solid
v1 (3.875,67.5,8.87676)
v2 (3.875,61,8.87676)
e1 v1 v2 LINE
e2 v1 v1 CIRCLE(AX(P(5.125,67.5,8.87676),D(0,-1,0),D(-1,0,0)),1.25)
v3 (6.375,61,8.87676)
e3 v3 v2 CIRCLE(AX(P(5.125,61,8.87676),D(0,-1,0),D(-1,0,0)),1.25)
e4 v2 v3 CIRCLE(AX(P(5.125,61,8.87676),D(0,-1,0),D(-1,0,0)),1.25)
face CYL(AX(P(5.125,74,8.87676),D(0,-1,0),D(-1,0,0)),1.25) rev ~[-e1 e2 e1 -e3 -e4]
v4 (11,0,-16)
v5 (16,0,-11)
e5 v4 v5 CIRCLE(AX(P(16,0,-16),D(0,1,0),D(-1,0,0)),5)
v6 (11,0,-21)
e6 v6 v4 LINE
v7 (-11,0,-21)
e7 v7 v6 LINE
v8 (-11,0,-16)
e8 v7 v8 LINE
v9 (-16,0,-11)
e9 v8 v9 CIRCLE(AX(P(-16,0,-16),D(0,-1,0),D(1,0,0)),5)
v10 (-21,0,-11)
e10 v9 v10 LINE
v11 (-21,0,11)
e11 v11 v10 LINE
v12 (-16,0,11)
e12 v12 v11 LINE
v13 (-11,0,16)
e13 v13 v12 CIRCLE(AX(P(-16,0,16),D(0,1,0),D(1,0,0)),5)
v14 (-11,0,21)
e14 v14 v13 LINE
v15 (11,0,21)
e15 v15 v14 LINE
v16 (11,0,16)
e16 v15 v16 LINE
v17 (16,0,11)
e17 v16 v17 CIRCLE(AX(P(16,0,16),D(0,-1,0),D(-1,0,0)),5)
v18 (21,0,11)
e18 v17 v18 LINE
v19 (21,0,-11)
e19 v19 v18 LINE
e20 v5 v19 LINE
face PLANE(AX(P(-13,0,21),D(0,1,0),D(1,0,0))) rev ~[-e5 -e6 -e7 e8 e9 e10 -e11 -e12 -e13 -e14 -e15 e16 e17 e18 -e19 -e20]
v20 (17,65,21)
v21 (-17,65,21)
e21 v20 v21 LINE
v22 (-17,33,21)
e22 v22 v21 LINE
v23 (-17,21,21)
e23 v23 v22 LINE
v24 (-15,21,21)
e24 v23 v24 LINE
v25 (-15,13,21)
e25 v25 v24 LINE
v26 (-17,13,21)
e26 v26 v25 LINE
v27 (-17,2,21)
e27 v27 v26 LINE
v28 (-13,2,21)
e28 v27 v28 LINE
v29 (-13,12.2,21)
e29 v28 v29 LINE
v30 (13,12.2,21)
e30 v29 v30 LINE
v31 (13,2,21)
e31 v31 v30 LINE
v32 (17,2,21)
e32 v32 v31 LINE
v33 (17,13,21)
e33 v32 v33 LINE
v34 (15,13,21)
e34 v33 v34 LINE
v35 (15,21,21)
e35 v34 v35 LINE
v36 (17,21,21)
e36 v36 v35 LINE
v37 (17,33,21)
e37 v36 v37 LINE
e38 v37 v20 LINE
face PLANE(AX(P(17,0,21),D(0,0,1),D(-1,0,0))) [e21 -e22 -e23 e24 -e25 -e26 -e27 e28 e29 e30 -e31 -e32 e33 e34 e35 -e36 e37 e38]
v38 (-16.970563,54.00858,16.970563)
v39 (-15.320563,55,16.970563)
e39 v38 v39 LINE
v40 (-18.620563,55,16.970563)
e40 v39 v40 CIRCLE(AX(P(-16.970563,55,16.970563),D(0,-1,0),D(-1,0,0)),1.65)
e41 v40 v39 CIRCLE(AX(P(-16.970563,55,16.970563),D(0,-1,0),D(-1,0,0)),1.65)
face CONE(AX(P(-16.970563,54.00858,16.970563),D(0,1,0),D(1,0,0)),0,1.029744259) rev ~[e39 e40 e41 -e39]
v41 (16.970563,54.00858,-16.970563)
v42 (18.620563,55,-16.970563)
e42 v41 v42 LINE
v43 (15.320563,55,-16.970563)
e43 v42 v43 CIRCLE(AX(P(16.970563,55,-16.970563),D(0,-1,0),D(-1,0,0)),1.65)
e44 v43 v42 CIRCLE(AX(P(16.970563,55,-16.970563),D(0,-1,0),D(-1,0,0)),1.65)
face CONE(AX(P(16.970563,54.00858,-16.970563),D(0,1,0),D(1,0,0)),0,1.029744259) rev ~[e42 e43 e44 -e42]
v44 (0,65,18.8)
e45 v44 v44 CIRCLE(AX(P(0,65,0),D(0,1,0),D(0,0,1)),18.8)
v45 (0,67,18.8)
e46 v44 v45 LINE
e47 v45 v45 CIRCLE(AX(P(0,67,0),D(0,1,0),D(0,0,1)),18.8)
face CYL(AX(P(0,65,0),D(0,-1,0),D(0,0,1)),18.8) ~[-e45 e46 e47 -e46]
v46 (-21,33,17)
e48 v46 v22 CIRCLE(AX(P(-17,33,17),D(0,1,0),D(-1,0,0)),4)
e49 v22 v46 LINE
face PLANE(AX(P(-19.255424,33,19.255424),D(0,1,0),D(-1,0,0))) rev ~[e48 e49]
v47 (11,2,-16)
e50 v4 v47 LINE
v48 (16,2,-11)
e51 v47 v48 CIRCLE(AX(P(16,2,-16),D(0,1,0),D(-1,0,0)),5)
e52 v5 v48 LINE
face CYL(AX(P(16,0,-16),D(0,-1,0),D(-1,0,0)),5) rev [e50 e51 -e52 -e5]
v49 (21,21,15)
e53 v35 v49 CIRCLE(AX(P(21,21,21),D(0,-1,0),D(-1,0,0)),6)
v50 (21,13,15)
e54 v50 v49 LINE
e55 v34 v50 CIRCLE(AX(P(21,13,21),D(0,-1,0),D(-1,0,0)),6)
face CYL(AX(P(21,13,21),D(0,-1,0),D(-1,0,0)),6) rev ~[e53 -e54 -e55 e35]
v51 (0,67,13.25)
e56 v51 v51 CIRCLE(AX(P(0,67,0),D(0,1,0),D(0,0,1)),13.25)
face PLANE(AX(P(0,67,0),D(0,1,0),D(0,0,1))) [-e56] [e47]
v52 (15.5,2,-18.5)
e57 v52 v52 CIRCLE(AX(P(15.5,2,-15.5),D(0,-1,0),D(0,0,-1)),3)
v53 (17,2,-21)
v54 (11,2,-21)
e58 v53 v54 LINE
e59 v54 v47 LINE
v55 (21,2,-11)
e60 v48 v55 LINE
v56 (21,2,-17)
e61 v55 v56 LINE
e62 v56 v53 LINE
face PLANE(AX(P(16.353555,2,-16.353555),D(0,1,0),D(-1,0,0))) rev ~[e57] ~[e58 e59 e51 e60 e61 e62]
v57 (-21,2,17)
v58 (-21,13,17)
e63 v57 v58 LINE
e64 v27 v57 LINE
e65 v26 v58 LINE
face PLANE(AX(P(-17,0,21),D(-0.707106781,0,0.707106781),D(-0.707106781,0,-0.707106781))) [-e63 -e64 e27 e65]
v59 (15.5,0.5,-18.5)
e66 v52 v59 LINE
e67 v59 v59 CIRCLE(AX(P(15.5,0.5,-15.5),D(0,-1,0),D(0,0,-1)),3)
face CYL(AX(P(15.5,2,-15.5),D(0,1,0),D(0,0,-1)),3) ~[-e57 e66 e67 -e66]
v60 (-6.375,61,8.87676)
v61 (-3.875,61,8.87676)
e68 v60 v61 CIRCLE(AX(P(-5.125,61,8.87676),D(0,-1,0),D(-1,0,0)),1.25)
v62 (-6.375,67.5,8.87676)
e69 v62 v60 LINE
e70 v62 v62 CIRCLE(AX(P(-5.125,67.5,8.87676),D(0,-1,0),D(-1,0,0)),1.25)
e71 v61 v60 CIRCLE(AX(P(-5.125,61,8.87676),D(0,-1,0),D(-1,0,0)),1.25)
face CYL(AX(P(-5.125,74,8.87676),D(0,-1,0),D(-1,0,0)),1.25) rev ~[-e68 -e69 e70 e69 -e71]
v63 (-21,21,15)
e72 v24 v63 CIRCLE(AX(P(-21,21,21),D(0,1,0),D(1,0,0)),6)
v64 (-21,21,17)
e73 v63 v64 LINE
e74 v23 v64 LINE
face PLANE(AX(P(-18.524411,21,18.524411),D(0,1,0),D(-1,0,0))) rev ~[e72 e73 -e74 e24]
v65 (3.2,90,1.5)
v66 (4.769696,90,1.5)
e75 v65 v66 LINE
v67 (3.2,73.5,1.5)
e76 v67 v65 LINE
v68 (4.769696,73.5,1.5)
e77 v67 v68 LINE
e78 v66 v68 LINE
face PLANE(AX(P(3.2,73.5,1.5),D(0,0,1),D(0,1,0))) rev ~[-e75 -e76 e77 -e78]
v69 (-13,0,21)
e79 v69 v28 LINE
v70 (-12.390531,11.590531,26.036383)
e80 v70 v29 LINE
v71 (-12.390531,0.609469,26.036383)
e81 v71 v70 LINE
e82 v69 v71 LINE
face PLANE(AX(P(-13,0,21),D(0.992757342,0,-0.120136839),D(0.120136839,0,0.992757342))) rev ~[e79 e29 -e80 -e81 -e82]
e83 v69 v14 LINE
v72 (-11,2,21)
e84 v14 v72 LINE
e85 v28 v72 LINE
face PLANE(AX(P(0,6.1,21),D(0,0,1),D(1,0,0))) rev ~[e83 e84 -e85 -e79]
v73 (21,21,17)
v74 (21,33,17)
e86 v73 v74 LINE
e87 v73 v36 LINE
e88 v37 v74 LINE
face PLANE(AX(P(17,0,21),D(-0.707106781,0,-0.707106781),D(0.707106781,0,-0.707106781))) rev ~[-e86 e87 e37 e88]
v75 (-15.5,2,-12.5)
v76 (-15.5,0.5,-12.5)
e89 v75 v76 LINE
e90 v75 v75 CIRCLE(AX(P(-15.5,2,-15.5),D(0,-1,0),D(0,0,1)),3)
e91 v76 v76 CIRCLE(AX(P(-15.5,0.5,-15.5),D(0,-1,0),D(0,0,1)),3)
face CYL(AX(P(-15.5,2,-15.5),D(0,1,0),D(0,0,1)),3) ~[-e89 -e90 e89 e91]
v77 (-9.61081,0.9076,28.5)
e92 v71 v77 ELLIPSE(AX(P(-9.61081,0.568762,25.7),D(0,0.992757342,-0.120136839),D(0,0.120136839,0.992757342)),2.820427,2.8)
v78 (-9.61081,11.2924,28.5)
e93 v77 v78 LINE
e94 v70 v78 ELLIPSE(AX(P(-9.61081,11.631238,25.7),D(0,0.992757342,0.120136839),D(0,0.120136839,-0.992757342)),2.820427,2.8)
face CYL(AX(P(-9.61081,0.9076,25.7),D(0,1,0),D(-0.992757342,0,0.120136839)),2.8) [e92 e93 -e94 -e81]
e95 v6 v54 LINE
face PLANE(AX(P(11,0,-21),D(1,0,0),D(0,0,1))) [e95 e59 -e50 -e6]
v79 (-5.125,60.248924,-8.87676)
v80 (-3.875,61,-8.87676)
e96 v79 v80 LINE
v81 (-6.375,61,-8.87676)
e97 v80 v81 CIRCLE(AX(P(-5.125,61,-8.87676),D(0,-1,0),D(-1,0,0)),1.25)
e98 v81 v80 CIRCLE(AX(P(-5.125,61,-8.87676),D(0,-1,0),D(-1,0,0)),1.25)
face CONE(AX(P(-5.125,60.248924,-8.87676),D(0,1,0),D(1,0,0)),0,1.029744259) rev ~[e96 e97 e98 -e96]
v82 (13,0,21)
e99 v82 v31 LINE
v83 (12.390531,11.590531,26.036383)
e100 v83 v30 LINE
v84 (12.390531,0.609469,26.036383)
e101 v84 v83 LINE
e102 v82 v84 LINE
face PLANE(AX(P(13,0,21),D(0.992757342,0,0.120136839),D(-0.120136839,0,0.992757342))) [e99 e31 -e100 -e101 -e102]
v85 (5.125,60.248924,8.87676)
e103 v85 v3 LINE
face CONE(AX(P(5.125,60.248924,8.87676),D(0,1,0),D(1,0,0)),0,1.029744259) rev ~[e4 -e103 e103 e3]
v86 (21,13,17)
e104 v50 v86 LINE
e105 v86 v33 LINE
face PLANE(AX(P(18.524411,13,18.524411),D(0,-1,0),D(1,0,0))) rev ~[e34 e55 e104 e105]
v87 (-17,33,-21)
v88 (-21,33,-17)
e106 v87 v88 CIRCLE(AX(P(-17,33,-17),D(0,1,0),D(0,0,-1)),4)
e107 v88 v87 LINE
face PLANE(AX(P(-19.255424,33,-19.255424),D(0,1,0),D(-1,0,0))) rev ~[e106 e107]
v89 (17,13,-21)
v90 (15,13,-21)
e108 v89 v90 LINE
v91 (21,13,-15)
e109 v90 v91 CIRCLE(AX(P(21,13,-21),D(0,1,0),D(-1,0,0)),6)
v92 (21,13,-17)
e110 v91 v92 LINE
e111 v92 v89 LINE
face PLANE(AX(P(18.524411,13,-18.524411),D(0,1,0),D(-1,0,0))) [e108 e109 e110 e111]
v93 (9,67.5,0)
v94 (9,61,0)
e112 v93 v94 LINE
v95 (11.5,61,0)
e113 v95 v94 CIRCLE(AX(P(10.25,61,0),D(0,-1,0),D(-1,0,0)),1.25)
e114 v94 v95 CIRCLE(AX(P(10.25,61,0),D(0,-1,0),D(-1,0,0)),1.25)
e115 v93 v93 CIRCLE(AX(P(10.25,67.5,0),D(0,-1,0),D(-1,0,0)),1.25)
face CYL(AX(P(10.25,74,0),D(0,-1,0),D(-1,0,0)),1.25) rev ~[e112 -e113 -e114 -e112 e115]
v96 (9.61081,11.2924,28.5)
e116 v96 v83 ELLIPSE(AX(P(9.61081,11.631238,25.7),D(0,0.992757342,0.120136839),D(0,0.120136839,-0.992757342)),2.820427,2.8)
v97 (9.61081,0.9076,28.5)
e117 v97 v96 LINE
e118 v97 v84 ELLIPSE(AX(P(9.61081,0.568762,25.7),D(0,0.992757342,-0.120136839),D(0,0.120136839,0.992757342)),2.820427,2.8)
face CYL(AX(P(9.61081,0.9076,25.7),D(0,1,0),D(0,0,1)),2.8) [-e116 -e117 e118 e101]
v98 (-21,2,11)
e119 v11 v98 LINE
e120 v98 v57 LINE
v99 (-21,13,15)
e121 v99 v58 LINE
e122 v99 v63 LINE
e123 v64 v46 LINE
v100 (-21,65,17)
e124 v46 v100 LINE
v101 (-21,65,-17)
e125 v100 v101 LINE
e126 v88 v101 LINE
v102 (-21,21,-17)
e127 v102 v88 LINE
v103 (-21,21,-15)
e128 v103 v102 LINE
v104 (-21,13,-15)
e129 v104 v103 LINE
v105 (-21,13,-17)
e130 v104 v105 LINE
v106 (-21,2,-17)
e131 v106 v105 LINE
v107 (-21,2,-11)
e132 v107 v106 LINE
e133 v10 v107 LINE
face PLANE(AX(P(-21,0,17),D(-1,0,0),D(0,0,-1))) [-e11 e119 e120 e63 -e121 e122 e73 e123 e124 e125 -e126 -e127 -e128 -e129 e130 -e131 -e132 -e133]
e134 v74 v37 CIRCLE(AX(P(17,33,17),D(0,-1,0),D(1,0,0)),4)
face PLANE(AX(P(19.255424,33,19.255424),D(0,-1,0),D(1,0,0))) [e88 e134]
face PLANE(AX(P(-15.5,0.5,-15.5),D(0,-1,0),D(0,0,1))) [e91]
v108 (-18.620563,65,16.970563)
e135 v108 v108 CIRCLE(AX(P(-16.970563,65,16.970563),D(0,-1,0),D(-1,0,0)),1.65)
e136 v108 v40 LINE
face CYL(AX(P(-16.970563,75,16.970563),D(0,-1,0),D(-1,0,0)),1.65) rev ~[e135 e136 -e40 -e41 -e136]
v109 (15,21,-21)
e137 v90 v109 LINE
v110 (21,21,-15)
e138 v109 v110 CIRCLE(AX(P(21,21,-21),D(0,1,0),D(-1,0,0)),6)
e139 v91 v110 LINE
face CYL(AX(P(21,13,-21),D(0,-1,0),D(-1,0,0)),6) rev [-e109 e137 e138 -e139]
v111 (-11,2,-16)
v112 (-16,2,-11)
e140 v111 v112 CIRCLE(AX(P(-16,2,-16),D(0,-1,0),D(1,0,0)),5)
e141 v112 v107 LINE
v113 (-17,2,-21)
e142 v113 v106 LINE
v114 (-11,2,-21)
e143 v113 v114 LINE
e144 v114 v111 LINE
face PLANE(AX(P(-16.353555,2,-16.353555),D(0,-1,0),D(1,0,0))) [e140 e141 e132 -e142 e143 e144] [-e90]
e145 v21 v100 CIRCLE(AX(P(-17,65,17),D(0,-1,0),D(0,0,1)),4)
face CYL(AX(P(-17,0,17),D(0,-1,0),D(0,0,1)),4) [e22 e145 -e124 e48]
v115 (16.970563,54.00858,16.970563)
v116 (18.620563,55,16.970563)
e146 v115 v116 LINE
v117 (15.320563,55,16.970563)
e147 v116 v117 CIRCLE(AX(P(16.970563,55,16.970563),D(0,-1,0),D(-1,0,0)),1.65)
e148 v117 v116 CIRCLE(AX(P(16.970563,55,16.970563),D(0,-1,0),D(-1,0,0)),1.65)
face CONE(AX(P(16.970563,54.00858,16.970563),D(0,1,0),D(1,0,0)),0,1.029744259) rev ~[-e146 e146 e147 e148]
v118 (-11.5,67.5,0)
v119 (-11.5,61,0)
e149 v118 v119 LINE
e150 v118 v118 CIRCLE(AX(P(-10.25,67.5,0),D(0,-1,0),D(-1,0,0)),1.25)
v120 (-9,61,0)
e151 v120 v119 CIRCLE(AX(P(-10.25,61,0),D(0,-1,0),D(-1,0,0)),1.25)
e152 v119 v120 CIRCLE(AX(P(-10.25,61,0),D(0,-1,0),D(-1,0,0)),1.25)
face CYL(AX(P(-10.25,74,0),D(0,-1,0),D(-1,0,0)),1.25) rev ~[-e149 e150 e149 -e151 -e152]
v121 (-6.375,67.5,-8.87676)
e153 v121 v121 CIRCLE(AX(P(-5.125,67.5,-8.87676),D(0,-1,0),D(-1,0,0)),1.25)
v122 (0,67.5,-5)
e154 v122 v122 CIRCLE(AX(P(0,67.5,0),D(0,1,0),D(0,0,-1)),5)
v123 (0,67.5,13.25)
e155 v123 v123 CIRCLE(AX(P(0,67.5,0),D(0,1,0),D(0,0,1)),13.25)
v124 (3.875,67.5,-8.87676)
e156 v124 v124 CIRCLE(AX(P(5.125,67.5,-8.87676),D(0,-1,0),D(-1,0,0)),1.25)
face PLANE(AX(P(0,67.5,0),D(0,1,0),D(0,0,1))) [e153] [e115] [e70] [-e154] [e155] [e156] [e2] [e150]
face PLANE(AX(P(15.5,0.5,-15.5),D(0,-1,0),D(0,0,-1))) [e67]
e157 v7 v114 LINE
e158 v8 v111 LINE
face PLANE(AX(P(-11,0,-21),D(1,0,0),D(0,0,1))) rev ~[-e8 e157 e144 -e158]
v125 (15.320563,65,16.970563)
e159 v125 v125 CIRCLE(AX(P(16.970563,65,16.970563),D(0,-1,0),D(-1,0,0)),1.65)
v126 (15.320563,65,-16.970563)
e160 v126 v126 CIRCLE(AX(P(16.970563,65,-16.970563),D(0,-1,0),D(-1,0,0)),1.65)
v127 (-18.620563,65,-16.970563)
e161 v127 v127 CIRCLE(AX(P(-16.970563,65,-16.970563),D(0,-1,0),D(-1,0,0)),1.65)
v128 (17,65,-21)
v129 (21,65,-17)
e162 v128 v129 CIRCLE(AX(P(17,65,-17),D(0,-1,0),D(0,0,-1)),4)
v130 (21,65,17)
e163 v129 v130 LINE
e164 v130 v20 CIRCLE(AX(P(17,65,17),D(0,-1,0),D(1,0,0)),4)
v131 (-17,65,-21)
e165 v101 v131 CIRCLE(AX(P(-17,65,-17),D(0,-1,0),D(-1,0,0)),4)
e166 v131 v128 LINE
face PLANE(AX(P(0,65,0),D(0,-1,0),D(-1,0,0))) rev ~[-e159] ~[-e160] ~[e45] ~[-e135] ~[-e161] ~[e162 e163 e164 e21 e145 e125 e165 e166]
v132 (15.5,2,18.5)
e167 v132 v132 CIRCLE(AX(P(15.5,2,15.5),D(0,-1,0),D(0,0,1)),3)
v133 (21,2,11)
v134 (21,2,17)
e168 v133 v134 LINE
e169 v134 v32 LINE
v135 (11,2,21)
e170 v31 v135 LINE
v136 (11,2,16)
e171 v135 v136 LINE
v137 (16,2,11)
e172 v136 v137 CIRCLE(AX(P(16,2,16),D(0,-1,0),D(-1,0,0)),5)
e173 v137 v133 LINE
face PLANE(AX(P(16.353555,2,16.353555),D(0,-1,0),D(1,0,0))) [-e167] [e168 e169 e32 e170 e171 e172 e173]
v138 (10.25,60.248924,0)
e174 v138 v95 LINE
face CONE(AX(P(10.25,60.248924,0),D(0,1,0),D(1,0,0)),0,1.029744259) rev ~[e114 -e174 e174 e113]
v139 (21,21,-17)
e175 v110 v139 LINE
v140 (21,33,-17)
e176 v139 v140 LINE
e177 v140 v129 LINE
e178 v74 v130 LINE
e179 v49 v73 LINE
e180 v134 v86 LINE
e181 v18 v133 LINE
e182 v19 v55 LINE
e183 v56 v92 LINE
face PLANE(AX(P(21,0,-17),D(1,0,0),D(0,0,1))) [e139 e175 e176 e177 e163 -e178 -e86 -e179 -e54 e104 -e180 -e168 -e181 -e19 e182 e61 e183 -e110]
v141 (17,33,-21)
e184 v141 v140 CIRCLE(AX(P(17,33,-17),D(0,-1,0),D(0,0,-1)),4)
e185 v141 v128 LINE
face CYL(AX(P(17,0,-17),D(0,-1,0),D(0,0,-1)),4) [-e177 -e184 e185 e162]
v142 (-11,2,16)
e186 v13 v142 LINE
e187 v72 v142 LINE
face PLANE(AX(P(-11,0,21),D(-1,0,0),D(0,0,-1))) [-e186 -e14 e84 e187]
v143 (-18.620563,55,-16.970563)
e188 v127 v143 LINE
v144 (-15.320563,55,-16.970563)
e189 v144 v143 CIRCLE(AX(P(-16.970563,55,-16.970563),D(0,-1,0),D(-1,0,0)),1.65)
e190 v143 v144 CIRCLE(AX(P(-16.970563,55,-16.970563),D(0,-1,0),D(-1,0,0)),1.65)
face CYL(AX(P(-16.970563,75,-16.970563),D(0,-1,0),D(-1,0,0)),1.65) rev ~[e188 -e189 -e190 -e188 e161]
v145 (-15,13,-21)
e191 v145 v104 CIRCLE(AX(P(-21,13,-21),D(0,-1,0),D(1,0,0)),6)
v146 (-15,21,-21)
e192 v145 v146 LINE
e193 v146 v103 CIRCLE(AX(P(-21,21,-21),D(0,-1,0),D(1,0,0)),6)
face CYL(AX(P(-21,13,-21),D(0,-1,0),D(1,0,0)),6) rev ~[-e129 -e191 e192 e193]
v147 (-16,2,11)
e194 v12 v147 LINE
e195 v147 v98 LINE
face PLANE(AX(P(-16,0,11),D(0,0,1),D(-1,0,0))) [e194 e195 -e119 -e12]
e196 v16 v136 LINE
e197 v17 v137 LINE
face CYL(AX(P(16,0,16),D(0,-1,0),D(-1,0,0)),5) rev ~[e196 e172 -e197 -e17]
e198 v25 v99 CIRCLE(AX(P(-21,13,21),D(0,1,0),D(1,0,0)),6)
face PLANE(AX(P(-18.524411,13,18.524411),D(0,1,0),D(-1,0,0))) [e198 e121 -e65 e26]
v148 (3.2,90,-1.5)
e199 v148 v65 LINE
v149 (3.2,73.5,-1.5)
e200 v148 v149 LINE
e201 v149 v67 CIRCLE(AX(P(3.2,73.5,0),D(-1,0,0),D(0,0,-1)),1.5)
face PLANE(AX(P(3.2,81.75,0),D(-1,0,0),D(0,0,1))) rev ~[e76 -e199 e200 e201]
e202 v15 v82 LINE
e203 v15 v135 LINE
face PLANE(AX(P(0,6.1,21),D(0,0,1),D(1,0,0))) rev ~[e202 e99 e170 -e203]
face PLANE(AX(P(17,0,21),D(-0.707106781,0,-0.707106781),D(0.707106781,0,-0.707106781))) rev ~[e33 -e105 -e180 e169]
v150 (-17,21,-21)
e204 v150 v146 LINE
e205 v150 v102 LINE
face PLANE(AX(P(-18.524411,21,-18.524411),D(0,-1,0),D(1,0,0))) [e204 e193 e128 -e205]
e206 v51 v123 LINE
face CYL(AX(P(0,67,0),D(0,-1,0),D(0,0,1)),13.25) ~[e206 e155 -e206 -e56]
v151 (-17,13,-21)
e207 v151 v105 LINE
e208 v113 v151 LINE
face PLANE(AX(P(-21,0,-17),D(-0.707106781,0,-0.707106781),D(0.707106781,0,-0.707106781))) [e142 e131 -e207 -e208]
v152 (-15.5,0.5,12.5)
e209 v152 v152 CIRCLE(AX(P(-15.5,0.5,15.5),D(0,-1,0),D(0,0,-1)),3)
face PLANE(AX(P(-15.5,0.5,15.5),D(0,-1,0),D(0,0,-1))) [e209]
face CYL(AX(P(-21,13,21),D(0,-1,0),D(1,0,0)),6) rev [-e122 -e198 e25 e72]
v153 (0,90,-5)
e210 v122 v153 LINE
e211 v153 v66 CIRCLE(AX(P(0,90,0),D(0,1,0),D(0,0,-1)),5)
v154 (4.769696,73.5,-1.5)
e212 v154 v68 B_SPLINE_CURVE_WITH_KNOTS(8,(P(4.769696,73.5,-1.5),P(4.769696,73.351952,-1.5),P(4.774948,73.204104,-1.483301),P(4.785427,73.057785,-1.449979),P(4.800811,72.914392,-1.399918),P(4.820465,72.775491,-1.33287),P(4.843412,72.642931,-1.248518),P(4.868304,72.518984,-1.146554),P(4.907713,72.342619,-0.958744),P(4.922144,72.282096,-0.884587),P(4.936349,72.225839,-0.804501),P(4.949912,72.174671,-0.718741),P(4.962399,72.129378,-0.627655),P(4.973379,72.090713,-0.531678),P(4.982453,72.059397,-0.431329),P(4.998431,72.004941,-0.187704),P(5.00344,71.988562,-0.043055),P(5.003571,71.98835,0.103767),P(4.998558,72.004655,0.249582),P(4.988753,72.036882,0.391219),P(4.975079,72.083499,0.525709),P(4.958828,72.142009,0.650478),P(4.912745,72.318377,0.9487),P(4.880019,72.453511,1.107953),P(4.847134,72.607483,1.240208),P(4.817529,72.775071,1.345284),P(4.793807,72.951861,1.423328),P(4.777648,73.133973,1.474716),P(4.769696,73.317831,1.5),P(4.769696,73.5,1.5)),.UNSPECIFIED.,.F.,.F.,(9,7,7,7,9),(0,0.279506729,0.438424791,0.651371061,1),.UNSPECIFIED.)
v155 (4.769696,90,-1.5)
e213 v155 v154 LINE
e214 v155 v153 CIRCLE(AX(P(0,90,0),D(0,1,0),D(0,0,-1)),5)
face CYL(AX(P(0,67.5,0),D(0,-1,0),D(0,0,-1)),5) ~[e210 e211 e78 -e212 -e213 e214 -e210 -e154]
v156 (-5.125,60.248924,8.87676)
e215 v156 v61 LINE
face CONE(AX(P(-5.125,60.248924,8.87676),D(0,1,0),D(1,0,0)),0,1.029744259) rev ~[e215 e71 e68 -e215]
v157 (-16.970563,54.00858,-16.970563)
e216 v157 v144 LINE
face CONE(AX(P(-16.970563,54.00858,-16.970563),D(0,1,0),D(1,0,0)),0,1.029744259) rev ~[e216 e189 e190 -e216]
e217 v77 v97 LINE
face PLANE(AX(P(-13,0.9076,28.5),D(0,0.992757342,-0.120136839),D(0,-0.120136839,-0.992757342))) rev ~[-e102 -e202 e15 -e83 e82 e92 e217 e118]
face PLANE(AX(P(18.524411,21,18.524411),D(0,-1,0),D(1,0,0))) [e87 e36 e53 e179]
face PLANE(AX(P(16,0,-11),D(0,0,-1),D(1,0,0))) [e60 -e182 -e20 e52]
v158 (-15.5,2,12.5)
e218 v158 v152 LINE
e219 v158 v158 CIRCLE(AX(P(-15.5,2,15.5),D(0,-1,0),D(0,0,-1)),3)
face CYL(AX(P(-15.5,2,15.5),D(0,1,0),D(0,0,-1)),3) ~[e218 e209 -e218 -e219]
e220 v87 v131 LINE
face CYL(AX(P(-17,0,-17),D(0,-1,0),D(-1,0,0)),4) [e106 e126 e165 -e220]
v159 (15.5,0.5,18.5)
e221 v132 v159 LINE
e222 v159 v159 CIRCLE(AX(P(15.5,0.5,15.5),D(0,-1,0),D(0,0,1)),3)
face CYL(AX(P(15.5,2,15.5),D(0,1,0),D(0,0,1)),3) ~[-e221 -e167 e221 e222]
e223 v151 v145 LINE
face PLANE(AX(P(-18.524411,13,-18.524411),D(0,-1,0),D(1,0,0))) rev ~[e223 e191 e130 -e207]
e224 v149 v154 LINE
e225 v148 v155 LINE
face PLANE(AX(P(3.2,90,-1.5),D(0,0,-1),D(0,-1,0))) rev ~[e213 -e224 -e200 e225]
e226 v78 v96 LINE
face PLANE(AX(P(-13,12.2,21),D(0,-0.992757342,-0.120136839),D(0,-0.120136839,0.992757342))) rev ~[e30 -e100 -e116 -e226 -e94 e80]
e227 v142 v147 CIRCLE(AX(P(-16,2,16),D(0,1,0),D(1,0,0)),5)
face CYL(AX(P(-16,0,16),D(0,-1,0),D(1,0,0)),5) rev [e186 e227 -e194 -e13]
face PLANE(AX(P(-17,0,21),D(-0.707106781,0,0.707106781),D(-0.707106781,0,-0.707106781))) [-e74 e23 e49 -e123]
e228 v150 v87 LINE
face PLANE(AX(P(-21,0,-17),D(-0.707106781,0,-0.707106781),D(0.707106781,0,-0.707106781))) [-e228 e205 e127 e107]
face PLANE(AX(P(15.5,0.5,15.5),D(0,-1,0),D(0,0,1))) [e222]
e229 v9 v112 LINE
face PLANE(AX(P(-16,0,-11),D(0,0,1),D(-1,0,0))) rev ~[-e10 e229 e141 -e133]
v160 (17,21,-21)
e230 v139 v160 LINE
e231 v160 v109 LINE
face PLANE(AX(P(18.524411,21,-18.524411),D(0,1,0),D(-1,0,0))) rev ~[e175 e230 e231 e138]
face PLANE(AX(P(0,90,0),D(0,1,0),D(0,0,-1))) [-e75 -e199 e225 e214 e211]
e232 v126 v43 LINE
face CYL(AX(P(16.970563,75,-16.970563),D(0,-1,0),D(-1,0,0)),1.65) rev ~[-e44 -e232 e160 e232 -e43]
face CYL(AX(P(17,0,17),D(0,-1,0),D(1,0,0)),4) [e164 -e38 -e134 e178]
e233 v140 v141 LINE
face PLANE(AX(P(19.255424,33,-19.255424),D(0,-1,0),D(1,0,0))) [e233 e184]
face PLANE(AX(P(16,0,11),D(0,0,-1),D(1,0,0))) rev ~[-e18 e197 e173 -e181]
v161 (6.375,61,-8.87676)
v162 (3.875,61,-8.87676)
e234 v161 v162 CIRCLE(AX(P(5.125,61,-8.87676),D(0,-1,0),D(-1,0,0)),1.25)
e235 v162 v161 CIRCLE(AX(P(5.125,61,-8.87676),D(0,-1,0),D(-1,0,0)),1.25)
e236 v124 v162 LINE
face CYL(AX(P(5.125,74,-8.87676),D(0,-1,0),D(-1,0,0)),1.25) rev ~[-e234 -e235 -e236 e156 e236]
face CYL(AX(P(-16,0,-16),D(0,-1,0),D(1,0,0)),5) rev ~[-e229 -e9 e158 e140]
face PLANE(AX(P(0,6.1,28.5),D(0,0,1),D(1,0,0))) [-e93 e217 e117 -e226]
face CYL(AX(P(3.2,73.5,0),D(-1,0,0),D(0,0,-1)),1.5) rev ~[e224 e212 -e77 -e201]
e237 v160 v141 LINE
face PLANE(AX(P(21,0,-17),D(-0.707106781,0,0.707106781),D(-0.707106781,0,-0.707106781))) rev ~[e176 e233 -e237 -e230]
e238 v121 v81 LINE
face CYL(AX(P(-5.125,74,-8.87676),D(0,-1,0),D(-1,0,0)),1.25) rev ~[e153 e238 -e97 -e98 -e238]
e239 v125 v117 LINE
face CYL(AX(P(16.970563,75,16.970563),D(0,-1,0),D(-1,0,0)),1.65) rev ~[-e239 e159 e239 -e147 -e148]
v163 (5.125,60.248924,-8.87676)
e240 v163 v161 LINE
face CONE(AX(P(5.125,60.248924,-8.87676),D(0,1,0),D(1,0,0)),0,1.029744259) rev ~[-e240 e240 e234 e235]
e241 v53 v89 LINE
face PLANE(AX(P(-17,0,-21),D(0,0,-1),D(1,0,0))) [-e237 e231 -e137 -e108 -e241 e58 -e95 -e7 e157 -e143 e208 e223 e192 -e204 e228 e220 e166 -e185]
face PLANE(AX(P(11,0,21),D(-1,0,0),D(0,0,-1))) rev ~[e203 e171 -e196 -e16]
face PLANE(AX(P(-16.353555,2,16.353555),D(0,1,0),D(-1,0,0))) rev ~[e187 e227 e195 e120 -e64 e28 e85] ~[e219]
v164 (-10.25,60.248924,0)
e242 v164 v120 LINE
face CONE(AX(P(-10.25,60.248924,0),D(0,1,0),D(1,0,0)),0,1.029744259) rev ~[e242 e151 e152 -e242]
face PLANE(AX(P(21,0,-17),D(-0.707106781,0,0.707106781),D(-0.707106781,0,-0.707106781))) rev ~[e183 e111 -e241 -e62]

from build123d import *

# Parameters (mm, degrees)
EXTRUDE_1_DEPTH          = 65
CUT_EXTRUDE_1_DEPTH      = 33
CUT_EXTRUDE_START        = -13
CUT_EXTRUDE_2_DEPTH      = 8
CUT_EXTRUDE_3_DEPTH      = 2
SKETCH_5_R               = 3
EXTRUDE_2_DEPTH          = 1.5
SKETCH_6_W               = 26
SKETCH_6_H               = 12.2
EXTRUDE_3_DEPTH          = 7.5
CUT_EXTRUDE_4_REACH      = 80.697
CUT_EXTRUDE_5_REACH      = 76.015
FILLET_2_R               = 2.8
SKETCH_10_R              = 18.8
EXTRUDE_4_DEPTH          = 2
SKETCH_11_R              = 13.25
EXTRUDE_5_DEPTH          = 0.5
SKETCH_12_R              = 5
EXTRUDE_6_DEPTH          = 22.5
CUT_EXTRUDE_6_REACH      = 101.912
CUT_EXTRUDE_6_END_RADIUS = 5
CUT_EXTRUDE_START_2      = 3.2
HOLE_WIZARD_M3_2_D       = 2.5
HOLE_WIZARD_M3_2_DEPTH   = 6.5
HOLE_WIZARD_M3_2_TIP     = 0.751075774
HOLE_WIZARD_M4_1_D       = 3.3
HOLE_WIZARD_M4_1_DEPTH   = 10
HOLE_WIZARD_M4_1_TIP     = 0.991420021


with BuildPart() as part:
    # 草图1 → 凸台-拉伸1 (new body)
    with BuildSketch(Plane(origin=(0, 0, 0), x_dir=(1, 0, 0), z_dir=(0, 1, 0))):
        with BuildLine():
            Line((17, -21), (-17, -21))
            ThreePointArc((-17, -21), (-19.828427125, -19.828427125), (-21, -17))
            Line((-21, -17), (-21, 17))
            ThreePointArc((-21, 17), (-19.828427125, 19.828427125), (-17, 21))
            Line((-17, 21), (17, 21))
            ThreePointArc((17, 21), (19.828427125, 19.828427125), (21, 17))
            Line((21, 17), (21, -17))
            ThreePointArc((21, -17), (19.828427125, -19.828427125), (17, -21))
        make_face()
    extrude(amount=EXTRUDE_1_DEPTH)

    # 草图2 → 切除-拉伸1 (cut)
    with BuildSketch(Plane.XZ):
        with BuildLine():
            Line((-17, 21), (-21, 17))
            ThreePointArc((-21, 17), (-19.828427125, 19.828427125), (-17, 21))
        make_face()
        with BuildLine():
            Line((17, 21), (21, 17))
            ThreePointArc((21, 17), (19.828427125, 19.828427125), (17, 21))
        make_face()
        with BuildLine():
            Line((-21, -17), (-17, -21))
            ThreePointArc((-17, -21), (-19.828427125, -19.828427125), (-21, -17))
        make_face()
        with BuildLine():
            Line((21, -17), (17, -21))
            ThreePointArc((17, -21), (19.828427125, -19.828427125), (21, -17))
        make_face()
    extrude(amount=-CUT_EXTRUDE_1_DEPTH, mode=Mode.SUBTRACT)

    # 草图3 → 切除-拉伸2 (cut)
    with BuildSketch(Plane.XZ.offset(CUT_EXTRUDE_START)):
        with BuildLine():
            Line((-21, 15), (-21, 21))
            Line((-21, 21), (-15, 21))
            ThreePointArc((-15, 21), (-16.757359313, 16.757359313), (-21, 15))
        make_face()
        with BuildLine():
            Line((21, 21), (15, 21))
            ThreePointArc((15, 21), (16.757359313, 16.757359313), (21, 15))
            Line((21, 15), (21, 21))
        make_face()
        with BuildLine():
            Line((-21, -21), (-15, -21))
            ThreePointArc((-15, -21), (-16.757359313, -16.757359313), (-21, -15))
            Line((-21, -15), (-21, -21))
        make_face()
        with BuildLine():
            Line((21, -15), (21, -21))
            Line((21, -21), (15, -21))
            ThreePointArc((15, -21), (16.757359313, -16.757359313), (21, -15))
        make_face()
    extrude(amount=-CUT_EXTRUDE_2_DEPTH, mode=Mode.SUBTRACT)

    # 草图4 → 切除-拉伸3 (cut)
    with BuildSketch(Plane.XZ):
        with BuildLine():
            Line((-21, 21), (-11, 21))
            Line((-11, 21), (-11, 16))
            ThreePointArc((-11, 16), (-12.464466094, 12.464466094), (-16, 11))
            Line((-16, 11), (-21, 11))
            Line((-21, 11), (-21, 21))
        make_face()
        with BuildLine():
            Line((11, 21), (11, 16))
            ThreePointArc((11, 16), (12.464466094, 12.464466094), (16, 11))
            Line((16, 11), (21, 11))
            Line((21, 11), (21, 21))
            Line((21, 21), (11, 21))
        make_face()
        with BuildLine():
            Line((-11, -21), (-11, -16))
            ThreePointArc((-11, -16), (-12.464466094, -12.464466094), (-16, -11))
            Line((-16, -11), (-21, -11))
            Line((-21, -11), (-21, -21))
            Line((-21, -21), (-11, -21))
        make_face()
        with BuildLine():
            Line((21, -21), (11, -21))
            Line((11, -21), (11, -16))
            ThreePointArc((11, -16), (12.464466094, -12.464466094), (16, -11))
            Line((16, -11), (21, -11))
            Line((21, -11), (21, -21))
        make_face()
    extrude(amount=-CUT_EXTRUDE_3_DEPTH, mode=Mode.SUBTRACT)

    # 草图5 → 凸台-拉伸2 (add)
    with BuildSketch(Plane.XZ.offset(-2)):
        with Locations(Location((-15.5, 15.5, 0), (0, 0, 270))):
            Circle(SKETCH_5_R)
        with Locations(Location((15.5, 15.5, 0), (0, 0, 90))):
            Circle(SKETCH_5_R)
        with Locations(Location((15.5, -15.5, 0), (0, 0, 270))):
            Circle(SKETCH_5_R)
        with Locations(Location((-15.5, -15.5, 0), (0, 0, 90))):
            Circle(SKETCH_5_R)
    extrude(amount=EXTRUDE_2_DEPTH)

    # 草图6 → 凸台-拉伸3 (add)
    with BuildSketch(Plane.XY.offset(21)):
        with Locations((0, 6.1)):
            Rectangle(SKETCH_6_W, SKETCH_6_H)
    extrude(amount=EXTRUDE_3_DEPTH)

    # 草图7 → 切除-拉伸4 (cut, up to next)
    with BuildSketch(Plane.ZY.offset(13), mode=Mode.PRIVATE) as cut_extrude_4_sk1:
        Polygon((21, 12.2), (28.5, 11.292400274), (28.5, 12.2), align=None)
    cut_extrude_4_tool1 = extrude(cut_extrude_4_sk1.sketch, amount=-CUT_EXTRUDE_4_REACH, mode=Mode.PRIVATE) & part.part
    # 草图7 → 切除-拉伸4 (cut, up to next)
    with BuildSketch(Plane.ZY.offset(13), mode=Mode.PRIVATE) as cut_extrude_4_sk2:
        Polygon((28.5, 0), (28.5, 0.907599726), (21, 0), align=None)
    cut_extrude_4_tool2 = extrude(cut_extrude_4_sk2.sketch, amount=-CUT_EXTRUDE_4_REACH, mode=Mode.PRIVATE) & part.part
    add(cut_extrude_4_tool1.solids().sort_by_distance((-13, 11.897467, 26))[0], mode=Mode.SUBTRACT)
    add(cut_extrude_4_tool2.solids().sort_by_distance((-13, 0.302533, 26))[0], mode=Mode.SUBTRACT)

    # 草图9 → 切除-拉伸5 (cut, up to next)
    with BuildSketch(Plane.XZ, mode=Mode.PRIVATE) as cut_extrude_5_sk1:
        Polygon((-13, 21), (-12.092400274, 28.5), (-13, 28.5), align=None)
    cut_extrude_5_tool1 = extrude(cut_extrude_5_sk1.sketch, amount=-CUT_EXTRUDE_5_REACH, mode=Mode.PRIVATE) & part.part
    # 草图9 → 切除-拉伸5 (cut, up to next)
    with BuildSketch(Plane.XZ, mode=Mode.PRIVATE) as cut_extrude_5_sk2:
        Polygon((13, 28.5), (13, 21), (12.092400274, 28.5), align=None)
    cut_extrude_5_tool2 = extrude(cut_extrude_5_sk2.sketch, amount=-CUT_EXTRUDE_5_REACH, mode=Mode.PRIVATE) & part.part
    add(cut_extrude_5_tool1.solids().sort_by_distance((-12.697467, 0, 26))[0], mode=Mode.SUBTRACT)
    add(cut_extrude_5_tool2.solids().sort_by_distance((12.697467, 0, 26))[0], mode=Mode.SUBTRACT)

    # 圆角2
    fillet_2_edges = [part.edges().sort_by_distance(p)[0] for p in [
        (-12.092400274, 6.1, 28.5),
        (12.092400274, 6.1, 28.5),
    ]]
    fillet(fillet_2_edges, radius=FILLET_2_R)

    # 草图10 → 凸台-拉伸4 (add)
    with BuildSketch(Plane(origin=(0, 65, 0), x_dir=(1, 0, 0), z_dir=(0, 1, 0))):
        with Locations(Location((0, 0, 0), (0, 0, 270))):
            Circle(SKETCH_10_R)
    extrude(amount=EXTRUDE_4_DEPTH)

    # 草图11 → 凸台-拉伸5 (add)
    with BuildSketch(Plane(origin=(0, 67, 0), x_dir=(1, 0, 0), z_dir=(0, 1, 0))):
        with Locations(Location((0, 0, 0), (0, 0, 270))):
            Circle(SKETCH_11_R)
    extrude(amount=EXTRUDE_5_DEPTH)

    # 草图12 → 凸台-拉伸6 (add)
    with BuildSketch(Plane(origin=(0, 67.5, 0), x_dir=(1, 0, 0), z_dir=(0, 1, 0))):
        with Locations(Location((0, 0, 0), (0, 0, 90))):
            Circle(SKETCH_12_R)
    extrude(amount=EXTRUDE_6_DEPTH)

    # 切除-拉伸6: up to this cylinder (the profile starts inside it)
    cut_extrude_6_end = Plane(origin=(0, 81.75, 0), z_dir=(0, -1, 0)) * Cylinder(CUT_EXTRUDE_6_END_RADIUS, 214.824, mode=Mode.PRIVATE)
    # 草图13 → 切除-拉伸6 (cut, up to the surface)
    with BuildSketch(Plane(origin=(0, 0, 0), x_dir=(0, 0, -1), z_dir=(1, 0, 0)).offset(CUT_EXTRUDE_START_2), mode=Mode.PRIVATE) as cut_extrude_6_sk1:
        with BuildLine():
            Line((1.5, 90), (1.5, 73.5))
            ThreePointArc((1.5, 73.5), (0, 72), (-1.5, 73.5))
            Line((-1.5, 73.5), (-1.5, 90))
            ThreePointArc((-1.5, 90), (0, 91.5), (1.5, 90))
        make_face()
    cut_extrude_6_tool1 = extrude(cut_extrude_6_sk1.sketch, amount=CUT_EXTRUDE_6_REACH, mode=Mode.PRIVATE) & cut_extrude_6_end
    add(cut_extrude_6_tool1.solids().sort_by_distance((3.2, 81.75, 0))[0], mode=Mode.SUBTRACT)

    # M3 螺纹孔2
    with Locations(Plane(origin=(0, 67.5, 0), x_dir=(1, 0, 0), z_dir=(0, 1, 0))):
        with Locations((5.125, 8.876760389), (10.25, 0), (5.125, -8.876760389), (-5.125, -8.876760389), (-10.25, 0), (-5.125, 8.876760389)):
            Hole(HOLE_WIZARD_M3_2_D / 2, depth=HOLE_WIZARD_M3_2_DEPTH)
            with Locations((0, 0, -(HOLE_WIZARD_M3_2_DEPTH + HOLE_WIZARD_M3_2_TIP / 2))):  # 118° drill point
                Cone(0, HOLE_WIZARD_M3_2_D / 2, HOLE_WIZARD_M3_2_TIP, mode=Mode.SUBTRACT)

    # M4 螺纹孔1
    with Locations(Plane(origin=(0, 65, 0), x_dir=(1, 0, 0), z_dir=(0, 1, 0))):
        with Locations((-16.970562748, -16.970562748), (-16.970562748, 16.970562748), (16.970562748, -16.970562748), (16.970562748, 16.970562748)):
            Hole(HOLE_WIZARD_M4_1_D / 2, depth=HOLE_WIZARD_M4_1_DEPTH)
            with Locations((0, 0, -(HOLE_WIZARD_M4_1_DEPTH + HOLE_WIZARD_M4_1_TIP / 2))):  # 118° drill point
                Cone(0, HOLE_WIZARD_M4_1_D / 2, HOLE_WIZARD_M4_1_TIP, mode=Mode.SUBTRACT)


solid = part.part
